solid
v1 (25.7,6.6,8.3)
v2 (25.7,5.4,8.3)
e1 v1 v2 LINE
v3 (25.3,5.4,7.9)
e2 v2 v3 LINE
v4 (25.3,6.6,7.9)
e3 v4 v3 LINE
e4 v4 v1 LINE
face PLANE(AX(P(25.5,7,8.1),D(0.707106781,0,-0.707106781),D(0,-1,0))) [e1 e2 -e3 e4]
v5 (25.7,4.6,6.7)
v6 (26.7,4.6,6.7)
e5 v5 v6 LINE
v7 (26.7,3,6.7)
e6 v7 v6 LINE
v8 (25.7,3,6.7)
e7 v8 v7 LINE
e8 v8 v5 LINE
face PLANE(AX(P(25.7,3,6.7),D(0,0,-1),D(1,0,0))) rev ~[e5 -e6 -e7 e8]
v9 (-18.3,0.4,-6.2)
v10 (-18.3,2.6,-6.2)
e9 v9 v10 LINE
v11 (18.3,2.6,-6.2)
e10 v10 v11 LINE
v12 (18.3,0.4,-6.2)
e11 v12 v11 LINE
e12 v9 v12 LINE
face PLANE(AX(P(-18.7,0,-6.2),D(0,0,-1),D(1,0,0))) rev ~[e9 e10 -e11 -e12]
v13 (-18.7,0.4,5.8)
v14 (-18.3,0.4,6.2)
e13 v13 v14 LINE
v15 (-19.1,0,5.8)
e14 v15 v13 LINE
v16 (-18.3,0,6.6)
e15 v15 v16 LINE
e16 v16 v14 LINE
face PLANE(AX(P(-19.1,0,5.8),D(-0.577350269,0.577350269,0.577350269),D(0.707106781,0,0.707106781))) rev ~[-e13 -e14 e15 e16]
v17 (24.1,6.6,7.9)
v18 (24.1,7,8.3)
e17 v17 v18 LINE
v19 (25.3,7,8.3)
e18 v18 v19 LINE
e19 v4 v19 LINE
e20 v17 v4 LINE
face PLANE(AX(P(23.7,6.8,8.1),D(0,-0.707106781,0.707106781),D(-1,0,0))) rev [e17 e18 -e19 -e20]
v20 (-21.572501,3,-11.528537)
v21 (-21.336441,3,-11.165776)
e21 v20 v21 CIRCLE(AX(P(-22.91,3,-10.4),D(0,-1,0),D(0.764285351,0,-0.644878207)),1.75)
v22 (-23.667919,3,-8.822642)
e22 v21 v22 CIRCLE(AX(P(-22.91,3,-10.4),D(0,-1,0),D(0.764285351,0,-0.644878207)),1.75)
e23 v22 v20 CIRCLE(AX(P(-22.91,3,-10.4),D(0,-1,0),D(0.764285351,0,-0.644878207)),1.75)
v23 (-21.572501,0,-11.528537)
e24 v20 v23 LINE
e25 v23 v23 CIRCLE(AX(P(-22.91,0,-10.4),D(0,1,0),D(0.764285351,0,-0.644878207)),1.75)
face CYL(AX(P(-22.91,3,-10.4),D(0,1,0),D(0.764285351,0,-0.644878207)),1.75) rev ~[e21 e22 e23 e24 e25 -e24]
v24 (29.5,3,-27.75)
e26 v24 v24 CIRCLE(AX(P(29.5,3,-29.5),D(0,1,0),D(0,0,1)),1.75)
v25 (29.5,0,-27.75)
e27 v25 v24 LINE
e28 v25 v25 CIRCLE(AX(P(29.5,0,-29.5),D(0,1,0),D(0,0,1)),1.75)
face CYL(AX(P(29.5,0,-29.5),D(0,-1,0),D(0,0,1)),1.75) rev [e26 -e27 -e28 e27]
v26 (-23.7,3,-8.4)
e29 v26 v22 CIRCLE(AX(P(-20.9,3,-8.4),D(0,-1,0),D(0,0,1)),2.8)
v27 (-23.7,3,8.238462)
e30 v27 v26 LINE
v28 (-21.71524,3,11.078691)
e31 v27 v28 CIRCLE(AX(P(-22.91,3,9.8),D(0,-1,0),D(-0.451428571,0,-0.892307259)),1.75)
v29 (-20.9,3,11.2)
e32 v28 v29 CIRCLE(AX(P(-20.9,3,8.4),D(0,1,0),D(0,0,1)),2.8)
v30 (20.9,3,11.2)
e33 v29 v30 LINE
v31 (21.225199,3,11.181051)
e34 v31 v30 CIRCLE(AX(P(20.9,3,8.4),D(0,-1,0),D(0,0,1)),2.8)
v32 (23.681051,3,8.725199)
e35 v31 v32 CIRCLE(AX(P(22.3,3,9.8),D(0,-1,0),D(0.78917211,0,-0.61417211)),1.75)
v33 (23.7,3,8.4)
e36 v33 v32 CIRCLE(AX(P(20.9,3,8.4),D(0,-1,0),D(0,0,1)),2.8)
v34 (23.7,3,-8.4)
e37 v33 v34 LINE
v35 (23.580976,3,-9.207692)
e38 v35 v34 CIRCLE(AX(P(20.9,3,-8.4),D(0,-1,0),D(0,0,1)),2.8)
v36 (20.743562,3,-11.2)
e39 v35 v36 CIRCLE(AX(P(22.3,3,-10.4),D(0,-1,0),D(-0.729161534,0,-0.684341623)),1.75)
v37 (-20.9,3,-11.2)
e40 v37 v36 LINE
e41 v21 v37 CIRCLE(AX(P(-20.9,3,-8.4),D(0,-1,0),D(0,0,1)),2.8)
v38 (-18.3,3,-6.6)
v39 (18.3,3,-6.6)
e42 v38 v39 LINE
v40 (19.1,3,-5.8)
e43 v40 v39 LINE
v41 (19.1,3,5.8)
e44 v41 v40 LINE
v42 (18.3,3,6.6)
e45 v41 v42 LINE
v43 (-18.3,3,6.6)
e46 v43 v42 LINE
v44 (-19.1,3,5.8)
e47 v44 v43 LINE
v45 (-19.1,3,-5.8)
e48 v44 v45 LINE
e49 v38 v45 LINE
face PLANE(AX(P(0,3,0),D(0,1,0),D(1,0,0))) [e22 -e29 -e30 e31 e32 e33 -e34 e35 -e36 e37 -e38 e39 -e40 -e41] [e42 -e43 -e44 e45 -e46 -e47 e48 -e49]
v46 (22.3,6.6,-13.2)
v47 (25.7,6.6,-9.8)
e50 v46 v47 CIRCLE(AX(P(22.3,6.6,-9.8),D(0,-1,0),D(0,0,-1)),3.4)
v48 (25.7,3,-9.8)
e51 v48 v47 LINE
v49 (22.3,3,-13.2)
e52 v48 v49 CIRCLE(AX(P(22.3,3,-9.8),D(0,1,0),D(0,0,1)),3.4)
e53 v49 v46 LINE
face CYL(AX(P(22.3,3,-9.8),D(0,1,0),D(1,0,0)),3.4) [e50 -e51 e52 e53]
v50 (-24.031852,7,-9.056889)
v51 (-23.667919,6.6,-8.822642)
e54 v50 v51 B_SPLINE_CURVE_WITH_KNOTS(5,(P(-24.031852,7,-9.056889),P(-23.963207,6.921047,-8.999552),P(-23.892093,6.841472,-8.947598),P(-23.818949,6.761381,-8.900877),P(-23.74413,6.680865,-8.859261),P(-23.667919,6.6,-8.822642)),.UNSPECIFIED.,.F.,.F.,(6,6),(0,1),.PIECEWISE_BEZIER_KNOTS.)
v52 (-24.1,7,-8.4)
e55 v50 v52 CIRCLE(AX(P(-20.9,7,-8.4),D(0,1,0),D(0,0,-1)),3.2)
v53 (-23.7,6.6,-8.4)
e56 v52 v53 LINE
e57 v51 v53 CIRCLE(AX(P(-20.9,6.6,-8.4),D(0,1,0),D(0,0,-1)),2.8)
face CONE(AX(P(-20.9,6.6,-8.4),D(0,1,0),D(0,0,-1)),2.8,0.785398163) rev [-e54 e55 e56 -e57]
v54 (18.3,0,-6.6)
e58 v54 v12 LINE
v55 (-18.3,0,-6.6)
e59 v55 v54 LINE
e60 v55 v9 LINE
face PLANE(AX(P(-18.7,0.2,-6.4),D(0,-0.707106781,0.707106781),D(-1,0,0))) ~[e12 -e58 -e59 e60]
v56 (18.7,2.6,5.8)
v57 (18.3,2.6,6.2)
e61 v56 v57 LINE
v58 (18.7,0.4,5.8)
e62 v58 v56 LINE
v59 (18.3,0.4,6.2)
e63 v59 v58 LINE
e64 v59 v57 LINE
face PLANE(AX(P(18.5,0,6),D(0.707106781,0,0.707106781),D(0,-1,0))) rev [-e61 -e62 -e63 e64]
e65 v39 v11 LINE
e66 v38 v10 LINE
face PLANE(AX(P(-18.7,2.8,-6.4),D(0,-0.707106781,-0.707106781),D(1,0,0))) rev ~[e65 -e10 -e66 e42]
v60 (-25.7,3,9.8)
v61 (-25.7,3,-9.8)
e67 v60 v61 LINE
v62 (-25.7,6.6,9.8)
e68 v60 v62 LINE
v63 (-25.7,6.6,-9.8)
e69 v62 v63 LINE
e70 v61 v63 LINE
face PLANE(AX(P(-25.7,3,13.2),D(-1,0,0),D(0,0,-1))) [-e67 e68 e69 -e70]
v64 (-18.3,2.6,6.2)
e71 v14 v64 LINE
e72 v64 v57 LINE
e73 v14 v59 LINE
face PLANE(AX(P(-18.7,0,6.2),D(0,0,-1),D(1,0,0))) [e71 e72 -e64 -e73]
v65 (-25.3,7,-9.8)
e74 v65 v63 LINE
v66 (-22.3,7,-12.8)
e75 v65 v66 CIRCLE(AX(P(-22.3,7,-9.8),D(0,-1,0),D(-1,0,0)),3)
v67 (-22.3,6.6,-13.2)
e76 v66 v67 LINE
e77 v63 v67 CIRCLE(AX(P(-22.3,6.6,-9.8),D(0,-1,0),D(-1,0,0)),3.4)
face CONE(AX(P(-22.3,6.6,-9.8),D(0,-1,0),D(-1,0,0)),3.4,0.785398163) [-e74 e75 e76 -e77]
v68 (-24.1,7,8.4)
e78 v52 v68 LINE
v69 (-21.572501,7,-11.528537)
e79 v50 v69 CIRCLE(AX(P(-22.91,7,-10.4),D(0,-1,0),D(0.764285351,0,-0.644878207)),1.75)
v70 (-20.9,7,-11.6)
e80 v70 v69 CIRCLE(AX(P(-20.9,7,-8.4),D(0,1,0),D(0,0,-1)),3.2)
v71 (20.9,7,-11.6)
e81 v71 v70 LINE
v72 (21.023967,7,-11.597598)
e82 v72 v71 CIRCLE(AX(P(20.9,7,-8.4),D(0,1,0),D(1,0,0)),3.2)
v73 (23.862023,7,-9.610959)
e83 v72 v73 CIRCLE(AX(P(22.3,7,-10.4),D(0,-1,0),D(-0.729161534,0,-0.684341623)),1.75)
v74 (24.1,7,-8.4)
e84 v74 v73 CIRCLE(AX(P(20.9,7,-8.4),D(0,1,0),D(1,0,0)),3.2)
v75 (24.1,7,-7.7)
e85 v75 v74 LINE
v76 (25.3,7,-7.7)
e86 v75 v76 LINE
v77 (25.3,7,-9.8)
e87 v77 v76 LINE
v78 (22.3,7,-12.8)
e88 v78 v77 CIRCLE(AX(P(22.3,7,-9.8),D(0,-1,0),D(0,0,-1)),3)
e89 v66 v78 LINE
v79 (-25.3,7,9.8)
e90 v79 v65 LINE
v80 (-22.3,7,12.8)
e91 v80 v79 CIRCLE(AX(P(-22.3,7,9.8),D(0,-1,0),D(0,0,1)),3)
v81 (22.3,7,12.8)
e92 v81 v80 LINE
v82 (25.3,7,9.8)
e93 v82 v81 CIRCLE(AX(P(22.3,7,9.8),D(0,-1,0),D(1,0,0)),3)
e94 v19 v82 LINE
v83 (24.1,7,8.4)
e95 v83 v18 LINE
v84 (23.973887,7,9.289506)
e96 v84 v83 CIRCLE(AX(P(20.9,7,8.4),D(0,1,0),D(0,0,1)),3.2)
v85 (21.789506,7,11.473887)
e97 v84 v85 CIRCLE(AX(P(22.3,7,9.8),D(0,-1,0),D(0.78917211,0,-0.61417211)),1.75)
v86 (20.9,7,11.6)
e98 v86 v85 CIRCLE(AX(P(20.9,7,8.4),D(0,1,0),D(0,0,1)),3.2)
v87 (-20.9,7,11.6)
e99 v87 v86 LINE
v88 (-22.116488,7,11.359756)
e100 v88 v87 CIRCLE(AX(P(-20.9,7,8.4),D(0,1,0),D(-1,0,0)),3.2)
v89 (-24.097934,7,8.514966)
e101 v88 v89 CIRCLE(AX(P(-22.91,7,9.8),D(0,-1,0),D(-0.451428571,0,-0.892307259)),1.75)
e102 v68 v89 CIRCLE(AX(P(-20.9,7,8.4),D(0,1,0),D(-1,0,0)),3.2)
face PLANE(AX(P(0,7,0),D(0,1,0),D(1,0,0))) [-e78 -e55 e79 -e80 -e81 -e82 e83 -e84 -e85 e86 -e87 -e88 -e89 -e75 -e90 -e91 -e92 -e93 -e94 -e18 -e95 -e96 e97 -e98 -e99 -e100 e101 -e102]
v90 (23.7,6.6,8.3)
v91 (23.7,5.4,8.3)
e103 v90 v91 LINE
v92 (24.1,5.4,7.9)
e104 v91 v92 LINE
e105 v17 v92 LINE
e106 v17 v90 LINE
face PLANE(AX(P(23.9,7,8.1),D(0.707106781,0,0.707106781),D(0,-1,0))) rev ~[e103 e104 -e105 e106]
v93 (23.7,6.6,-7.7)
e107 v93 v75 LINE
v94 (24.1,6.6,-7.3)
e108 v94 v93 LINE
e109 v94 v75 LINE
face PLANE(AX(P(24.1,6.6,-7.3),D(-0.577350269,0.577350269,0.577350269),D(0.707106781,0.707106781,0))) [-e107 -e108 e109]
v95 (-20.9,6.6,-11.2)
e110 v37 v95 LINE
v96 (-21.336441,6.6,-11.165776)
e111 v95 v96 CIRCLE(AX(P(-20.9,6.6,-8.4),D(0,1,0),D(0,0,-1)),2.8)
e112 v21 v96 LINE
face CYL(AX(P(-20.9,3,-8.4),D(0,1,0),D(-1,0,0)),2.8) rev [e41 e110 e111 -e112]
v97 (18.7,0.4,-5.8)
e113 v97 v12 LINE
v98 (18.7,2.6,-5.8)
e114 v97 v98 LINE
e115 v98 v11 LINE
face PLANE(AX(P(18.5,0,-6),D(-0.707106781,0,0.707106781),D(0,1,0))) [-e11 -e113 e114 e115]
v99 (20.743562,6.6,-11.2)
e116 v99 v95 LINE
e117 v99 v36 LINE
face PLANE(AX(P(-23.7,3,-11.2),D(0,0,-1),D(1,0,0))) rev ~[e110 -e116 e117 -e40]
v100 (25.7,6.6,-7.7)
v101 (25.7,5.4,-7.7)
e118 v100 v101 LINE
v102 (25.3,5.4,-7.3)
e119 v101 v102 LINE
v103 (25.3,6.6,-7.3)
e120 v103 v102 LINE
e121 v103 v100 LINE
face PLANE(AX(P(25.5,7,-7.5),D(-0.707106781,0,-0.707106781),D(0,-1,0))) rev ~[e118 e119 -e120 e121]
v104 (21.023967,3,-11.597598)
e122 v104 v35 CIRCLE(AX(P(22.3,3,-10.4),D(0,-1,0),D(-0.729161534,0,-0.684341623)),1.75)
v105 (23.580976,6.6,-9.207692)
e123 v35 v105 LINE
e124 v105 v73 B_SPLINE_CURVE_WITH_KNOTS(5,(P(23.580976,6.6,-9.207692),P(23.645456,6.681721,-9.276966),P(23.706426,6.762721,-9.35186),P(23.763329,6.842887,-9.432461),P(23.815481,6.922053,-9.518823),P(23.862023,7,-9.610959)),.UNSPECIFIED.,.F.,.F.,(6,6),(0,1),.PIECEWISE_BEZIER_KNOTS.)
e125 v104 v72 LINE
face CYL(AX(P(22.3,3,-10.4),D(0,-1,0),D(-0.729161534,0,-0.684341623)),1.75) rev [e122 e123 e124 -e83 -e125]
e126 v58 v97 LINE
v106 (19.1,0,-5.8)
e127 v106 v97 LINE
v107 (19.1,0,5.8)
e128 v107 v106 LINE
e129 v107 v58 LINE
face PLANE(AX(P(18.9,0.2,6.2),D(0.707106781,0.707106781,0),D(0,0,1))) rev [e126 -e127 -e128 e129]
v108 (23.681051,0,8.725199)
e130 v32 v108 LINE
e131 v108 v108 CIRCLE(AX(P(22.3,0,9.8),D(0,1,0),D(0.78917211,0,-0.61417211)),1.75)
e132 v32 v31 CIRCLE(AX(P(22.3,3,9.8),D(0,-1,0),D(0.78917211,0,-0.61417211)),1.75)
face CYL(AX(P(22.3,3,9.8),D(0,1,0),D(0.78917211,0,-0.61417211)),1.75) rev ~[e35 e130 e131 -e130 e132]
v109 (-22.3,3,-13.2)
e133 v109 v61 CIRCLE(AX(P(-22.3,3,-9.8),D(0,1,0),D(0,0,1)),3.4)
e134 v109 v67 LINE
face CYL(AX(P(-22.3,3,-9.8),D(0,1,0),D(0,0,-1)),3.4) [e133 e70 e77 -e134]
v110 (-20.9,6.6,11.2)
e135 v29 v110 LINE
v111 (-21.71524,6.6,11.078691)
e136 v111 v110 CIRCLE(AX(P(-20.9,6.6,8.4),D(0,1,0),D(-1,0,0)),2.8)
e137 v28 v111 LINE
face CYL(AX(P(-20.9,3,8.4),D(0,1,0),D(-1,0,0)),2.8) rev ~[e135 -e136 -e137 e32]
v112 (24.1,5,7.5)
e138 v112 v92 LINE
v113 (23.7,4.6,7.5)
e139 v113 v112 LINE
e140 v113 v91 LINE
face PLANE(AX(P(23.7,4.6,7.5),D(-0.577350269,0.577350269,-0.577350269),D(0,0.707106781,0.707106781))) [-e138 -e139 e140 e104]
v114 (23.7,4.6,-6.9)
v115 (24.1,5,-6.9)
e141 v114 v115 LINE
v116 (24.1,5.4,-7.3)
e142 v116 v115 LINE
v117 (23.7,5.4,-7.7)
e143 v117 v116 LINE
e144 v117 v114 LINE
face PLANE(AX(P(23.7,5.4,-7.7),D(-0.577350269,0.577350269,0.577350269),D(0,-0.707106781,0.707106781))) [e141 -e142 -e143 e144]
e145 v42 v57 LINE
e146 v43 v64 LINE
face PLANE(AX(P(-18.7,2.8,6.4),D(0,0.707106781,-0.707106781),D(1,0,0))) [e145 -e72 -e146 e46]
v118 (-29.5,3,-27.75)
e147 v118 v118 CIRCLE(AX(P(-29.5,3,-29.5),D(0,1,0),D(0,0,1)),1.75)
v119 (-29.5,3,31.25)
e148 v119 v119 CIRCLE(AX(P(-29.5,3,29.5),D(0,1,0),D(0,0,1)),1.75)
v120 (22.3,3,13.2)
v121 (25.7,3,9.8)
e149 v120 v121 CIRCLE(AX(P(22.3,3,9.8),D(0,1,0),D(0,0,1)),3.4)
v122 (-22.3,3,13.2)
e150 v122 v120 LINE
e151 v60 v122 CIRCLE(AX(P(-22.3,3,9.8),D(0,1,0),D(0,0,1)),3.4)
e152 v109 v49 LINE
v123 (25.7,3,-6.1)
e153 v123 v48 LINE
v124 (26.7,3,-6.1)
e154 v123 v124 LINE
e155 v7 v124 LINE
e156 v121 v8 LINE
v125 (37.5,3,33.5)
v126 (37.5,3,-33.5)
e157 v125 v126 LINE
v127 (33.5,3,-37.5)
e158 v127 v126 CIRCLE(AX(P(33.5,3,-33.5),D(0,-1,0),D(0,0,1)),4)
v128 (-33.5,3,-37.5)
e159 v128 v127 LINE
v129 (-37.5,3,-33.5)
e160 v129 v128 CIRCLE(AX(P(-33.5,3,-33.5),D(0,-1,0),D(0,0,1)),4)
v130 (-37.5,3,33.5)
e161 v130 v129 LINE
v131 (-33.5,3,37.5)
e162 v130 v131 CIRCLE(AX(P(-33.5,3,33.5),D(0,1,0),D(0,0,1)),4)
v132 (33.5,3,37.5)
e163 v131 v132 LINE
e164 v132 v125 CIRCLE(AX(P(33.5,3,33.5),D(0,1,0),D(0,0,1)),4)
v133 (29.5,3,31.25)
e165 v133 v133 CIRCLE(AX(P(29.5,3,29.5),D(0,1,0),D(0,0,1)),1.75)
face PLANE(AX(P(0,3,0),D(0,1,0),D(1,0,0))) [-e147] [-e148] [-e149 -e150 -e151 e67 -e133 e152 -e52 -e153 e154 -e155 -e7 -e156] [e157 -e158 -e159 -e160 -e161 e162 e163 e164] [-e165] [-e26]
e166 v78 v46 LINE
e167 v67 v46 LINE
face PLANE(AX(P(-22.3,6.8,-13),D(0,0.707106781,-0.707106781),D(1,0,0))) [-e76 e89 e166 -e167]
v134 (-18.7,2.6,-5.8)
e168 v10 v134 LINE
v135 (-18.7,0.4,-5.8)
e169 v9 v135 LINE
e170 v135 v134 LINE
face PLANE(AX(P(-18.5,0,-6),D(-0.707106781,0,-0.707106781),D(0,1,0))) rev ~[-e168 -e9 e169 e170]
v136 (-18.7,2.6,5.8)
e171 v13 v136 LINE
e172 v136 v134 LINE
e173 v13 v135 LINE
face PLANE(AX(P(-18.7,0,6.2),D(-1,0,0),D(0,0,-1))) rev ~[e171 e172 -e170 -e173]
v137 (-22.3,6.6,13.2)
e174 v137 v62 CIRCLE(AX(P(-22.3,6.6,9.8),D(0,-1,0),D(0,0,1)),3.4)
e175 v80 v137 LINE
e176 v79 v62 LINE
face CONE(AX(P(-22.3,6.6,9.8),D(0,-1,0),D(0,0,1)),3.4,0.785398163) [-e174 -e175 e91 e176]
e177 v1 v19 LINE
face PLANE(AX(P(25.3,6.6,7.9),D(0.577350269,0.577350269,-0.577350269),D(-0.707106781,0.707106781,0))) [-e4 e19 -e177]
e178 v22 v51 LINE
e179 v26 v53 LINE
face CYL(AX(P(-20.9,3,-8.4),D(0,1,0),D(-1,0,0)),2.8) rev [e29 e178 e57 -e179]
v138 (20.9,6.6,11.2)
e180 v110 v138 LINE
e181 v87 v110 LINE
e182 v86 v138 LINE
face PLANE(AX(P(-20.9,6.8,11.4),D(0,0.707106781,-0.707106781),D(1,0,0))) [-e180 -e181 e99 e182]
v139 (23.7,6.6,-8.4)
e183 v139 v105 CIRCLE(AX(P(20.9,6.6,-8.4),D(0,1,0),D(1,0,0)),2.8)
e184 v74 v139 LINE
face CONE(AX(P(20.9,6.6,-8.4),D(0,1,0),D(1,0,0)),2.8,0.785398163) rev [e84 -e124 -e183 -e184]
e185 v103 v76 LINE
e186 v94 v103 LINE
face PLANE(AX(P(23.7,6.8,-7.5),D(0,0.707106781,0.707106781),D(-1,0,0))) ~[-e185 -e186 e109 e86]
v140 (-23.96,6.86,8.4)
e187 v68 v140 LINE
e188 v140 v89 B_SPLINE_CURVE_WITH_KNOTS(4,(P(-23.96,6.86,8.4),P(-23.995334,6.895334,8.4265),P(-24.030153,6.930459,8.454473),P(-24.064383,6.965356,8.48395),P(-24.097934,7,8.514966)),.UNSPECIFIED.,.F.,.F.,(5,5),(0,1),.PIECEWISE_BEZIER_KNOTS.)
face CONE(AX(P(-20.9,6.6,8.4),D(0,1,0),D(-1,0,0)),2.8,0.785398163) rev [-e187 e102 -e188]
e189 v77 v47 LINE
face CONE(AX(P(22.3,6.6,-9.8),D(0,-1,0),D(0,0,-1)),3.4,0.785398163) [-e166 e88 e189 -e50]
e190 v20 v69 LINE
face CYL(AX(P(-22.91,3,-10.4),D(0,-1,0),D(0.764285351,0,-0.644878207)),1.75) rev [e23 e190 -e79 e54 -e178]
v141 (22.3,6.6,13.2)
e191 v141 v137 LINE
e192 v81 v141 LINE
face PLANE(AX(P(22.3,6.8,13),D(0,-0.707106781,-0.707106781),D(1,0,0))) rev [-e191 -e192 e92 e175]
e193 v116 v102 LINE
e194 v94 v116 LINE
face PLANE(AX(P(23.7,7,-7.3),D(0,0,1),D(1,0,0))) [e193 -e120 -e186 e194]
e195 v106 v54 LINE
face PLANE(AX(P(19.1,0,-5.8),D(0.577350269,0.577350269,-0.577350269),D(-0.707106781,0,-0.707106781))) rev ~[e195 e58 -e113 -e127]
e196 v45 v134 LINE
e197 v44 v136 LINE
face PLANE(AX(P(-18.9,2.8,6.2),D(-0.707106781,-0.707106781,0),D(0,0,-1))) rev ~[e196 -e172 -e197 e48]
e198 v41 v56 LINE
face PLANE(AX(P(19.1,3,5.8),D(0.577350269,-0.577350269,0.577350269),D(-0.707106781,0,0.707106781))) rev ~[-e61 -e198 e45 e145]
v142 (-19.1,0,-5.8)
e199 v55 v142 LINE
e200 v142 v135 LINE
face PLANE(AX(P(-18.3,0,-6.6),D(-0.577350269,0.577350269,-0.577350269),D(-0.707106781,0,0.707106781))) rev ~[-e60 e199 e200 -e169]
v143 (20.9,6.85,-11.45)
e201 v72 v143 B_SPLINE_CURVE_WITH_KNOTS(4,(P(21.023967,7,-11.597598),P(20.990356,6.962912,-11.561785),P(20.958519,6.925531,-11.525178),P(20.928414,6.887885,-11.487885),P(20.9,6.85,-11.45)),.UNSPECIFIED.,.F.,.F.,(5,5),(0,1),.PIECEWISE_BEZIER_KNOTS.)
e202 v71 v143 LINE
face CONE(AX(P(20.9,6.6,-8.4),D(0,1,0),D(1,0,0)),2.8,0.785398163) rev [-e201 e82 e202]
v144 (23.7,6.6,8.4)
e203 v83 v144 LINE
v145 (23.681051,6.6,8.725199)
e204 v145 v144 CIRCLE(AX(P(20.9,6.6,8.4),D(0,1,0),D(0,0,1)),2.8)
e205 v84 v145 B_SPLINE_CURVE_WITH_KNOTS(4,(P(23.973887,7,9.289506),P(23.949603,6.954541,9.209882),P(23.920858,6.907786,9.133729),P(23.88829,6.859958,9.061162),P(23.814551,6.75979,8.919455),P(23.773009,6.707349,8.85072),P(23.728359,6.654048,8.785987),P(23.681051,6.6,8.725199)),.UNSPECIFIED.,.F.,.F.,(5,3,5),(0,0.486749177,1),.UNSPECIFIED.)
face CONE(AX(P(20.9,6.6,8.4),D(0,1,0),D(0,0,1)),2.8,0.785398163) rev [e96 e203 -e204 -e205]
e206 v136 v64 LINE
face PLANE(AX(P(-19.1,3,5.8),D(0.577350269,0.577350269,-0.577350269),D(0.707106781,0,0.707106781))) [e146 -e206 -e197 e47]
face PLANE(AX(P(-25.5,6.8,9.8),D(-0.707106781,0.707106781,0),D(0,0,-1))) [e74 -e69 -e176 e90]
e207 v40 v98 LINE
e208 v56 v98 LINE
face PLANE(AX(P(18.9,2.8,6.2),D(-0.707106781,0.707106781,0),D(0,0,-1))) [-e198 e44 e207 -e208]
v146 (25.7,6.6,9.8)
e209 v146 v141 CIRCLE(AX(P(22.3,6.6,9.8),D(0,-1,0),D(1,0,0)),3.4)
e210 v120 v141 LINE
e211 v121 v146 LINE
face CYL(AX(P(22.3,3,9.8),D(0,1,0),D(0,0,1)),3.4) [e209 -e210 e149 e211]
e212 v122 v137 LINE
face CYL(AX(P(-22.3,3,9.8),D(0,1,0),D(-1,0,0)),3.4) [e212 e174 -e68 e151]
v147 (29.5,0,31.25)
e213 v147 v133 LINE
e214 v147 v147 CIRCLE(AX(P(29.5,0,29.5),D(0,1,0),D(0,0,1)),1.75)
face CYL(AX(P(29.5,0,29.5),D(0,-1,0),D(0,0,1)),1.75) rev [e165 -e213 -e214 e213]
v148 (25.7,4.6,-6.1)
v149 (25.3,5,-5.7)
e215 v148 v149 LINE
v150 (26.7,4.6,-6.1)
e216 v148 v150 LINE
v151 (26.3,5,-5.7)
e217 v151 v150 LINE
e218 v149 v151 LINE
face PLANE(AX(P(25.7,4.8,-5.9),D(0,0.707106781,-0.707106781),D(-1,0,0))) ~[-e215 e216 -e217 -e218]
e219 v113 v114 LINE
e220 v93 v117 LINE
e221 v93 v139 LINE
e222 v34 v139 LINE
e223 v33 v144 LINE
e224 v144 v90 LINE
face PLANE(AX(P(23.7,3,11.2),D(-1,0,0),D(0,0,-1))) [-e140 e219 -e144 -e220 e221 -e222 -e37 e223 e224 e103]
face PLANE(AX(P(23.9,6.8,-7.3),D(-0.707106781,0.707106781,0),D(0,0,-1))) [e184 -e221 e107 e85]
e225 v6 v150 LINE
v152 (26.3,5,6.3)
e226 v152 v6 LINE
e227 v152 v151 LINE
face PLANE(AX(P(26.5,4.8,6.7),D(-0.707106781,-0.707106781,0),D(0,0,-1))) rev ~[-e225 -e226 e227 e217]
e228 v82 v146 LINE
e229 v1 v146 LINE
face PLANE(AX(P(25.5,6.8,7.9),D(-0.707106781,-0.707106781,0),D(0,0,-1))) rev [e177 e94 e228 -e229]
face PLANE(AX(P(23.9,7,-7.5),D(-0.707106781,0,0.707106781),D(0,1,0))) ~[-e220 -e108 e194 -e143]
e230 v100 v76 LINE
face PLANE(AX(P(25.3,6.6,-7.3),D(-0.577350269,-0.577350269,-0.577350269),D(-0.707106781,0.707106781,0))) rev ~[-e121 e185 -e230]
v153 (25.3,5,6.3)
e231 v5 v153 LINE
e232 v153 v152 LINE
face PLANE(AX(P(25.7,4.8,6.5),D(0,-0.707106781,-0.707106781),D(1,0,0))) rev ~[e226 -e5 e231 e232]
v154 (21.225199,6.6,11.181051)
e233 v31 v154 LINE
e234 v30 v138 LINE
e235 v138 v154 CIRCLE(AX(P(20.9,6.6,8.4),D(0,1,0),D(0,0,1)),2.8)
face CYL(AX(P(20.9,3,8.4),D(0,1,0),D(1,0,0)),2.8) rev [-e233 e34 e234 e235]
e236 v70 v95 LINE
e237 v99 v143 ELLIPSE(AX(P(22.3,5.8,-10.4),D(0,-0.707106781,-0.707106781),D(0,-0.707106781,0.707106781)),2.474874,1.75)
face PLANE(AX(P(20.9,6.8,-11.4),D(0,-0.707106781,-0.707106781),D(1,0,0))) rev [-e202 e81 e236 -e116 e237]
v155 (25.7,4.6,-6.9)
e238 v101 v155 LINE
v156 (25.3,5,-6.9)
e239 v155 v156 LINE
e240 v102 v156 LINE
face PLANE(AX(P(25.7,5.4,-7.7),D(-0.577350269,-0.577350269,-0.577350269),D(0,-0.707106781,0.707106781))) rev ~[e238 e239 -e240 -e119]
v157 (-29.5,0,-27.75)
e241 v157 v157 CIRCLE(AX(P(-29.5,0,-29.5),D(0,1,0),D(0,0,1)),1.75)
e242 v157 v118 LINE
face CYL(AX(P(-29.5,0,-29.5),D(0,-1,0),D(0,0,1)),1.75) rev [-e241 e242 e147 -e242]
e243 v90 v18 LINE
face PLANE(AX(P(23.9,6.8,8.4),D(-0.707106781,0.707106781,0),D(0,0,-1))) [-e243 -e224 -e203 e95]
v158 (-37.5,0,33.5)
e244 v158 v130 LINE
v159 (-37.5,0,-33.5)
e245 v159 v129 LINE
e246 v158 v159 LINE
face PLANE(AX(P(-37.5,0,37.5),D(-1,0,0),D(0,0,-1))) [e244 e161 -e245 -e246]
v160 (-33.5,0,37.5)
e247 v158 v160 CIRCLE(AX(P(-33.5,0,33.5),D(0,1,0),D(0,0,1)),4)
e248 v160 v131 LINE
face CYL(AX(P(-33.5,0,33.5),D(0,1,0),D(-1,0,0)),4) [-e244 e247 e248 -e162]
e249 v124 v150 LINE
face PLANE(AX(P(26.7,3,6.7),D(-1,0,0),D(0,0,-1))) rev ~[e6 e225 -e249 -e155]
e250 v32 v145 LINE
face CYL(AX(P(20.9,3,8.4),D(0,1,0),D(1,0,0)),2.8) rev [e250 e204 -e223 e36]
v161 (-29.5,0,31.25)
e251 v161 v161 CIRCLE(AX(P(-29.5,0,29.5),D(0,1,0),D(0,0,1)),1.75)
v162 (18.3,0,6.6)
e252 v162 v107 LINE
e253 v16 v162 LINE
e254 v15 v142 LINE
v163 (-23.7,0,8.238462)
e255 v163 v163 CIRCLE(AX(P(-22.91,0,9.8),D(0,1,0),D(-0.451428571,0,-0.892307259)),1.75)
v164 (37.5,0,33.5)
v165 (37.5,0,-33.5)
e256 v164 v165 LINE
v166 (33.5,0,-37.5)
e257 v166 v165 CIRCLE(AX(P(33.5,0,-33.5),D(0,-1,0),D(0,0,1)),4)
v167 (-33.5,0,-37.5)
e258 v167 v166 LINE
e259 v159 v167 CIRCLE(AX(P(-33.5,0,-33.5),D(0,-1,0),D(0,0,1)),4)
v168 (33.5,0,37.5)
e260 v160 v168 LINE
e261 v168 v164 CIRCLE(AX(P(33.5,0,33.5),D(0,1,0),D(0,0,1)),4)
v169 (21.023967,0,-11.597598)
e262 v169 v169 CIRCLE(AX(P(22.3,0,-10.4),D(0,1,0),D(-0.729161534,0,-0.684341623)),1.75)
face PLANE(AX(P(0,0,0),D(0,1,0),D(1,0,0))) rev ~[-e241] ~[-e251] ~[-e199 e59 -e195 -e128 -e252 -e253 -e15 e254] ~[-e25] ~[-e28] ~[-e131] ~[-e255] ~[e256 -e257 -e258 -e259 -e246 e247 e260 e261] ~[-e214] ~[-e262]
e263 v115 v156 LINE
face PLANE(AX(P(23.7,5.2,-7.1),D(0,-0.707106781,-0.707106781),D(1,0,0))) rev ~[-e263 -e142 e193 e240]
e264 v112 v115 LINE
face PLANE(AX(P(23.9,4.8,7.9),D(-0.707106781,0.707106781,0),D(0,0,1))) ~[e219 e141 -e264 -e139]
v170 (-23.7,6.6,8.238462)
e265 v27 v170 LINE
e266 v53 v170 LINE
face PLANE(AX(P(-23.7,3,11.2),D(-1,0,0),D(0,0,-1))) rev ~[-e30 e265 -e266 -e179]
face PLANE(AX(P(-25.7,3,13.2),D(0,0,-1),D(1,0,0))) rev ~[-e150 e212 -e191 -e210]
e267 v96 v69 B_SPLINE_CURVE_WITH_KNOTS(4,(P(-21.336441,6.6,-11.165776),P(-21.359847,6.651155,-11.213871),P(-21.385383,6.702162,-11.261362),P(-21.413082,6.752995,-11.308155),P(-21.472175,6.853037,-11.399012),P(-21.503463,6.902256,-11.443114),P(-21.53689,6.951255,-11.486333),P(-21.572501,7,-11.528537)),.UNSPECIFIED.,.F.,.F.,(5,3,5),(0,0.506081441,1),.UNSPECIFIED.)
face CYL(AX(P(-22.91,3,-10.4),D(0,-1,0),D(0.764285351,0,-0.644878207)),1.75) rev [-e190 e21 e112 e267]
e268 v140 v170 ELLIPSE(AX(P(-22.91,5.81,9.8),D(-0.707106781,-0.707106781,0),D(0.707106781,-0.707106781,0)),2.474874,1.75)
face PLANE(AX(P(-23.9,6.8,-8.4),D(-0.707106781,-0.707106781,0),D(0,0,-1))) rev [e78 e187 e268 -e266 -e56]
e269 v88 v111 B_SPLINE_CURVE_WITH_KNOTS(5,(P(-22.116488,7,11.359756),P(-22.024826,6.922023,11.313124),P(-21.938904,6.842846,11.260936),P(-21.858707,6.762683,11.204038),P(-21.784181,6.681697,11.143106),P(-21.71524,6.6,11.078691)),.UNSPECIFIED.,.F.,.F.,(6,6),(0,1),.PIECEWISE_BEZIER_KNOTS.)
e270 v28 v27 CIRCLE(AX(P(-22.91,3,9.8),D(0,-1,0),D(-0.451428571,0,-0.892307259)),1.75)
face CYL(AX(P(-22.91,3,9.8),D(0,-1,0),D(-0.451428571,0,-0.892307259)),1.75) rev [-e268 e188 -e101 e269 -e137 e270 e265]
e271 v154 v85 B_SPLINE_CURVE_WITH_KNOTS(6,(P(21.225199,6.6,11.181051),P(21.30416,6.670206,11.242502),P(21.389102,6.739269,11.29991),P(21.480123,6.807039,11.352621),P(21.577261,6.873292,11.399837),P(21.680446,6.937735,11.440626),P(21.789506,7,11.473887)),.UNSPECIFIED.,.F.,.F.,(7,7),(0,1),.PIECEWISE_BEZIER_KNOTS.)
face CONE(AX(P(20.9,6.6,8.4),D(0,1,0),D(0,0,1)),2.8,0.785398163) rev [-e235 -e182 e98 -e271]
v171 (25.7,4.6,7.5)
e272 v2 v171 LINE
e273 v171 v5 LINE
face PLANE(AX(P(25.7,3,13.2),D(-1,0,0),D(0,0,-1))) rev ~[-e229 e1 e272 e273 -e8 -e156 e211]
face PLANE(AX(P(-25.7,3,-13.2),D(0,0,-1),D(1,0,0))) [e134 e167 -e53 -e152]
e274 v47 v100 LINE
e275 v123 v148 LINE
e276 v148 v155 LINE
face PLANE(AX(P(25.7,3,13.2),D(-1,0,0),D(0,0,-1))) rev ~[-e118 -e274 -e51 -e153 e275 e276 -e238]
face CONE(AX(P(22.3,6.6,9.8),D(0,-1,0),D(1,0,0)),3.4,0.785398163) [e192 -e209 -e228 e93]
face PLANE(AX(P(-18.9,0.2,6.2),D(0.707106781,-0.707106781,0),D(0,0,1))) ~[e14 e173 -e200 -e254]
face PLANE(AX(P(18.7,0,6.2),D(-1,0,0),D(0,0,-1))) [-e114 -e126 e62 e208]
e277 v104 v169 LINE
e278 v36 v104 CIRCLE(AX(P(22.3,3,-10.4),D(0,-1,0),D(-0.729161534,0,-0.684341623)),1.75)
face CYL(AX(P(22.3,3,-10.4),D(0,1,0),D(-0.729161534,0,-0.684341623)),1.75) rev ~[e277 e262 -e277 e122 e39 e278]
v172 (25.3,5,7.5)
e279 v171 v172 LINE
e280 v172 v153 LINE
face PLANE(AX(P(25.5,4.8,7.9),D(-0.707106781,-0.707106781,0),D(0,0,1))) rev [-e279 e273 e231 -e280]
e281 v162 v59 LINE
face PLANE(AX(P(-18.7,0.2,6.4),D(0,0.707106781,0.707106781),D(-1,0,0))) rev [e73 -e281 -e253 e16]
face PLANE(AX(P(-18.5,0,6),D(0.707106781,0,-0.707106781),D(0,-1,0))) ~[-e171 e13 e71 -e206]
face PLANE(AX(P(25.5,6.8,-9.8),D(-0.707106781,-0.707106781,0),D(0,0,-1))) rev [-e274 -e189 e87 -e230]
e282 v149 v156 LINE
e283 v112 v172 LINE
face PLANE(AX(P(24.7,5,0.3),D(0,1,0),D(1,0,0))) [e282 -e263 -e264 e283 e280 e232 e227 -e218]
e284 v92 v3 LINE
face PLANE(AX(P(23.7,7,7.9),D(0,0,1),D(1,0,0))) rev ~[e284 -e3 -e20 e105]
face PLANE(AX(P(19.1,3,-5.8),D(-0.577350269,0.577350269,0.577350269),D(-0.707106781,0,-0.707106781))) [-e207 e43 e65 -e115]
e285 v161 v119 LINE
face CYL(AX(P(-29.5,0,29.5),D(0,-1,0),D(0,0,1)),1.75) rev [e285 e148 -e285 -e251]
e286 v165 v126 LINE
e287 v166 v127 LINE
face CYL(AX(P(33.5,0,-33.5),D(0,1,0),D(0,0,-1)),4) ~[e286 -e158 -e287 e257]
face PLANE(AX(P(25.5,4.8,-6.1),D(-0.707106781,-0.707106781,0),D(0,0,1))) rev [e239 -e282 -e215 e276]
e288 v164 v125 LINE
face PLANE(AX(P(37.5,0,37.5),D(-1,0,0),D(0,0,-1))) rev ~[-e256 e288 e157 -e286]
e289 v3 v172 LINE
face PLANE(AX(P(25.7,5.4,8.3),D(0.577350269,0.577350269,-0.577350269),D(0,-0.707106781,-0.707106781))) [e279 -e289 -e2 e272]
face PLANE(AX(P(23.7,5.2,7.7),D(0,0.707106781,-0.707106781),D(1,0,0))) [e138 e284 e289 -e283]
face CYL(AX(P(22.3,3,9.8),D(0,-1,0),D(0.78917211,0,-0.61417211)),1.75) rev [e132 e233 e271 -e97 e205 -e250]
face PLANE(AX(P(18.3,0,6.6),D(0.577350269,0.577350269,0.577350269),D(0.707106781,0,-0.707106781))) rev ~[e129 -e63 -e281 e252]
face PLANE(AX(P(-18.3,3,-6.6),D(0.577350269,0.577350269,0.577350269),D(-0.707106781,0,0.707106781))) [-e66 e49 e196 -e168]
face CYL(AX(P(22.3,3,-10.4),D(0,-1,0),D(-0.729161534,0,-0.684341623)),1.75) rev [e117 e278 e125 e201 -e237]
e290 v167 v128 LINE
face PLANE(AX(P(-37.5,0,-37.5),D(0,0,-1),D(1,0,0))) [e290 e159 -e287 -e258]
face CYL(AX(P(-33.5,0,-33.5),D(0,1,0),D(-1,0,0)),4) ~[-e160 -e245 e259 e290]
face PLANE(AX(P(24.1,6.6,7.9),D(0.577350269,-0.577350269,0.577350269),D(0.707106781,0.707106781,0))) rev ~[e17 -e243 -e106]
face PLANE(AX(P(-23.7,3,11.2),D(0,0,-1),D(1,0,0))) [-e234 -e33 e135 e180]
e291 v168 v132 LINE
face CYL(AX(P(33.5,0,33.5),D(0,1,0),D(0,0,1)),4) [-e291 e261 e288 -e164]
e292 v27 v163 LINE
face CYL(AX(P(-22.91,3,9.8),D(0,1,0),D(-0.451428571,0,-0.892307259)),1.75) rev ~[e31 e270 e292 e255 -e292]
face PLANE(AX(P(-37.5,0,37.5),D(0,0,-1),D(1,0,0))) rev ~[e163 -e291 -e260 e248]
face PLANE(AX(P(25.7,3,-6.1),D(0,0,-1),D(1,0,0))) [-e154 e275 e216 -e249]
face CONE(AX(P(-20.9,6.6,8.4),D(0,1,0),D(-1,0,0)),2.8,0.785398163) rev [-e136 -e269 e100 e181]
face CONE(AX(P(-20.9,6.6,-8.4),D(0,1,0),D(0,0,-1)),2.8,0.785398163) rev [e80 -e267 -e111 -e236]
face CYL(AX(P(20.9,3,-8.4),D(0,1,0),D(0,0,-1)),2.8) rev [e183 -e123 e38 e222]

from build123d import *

# Parameters (mm, degrees)
SKETCH_1_W                      = 75
SKETCH_1_H                      = 75
SKETCH_1_R                      = 1.75
SKETCH_1_W_2                    = 37.4
SKETCH_1_H_2                    = 12.4
EXTRUDE_1_DEPTH                 = 3
SKETCH_2_W                      = 51.4
SKETCH_2_H                      = 26.4
SKETCH_2_W_2                    = 47.4
SKETCH_2_H_2                    = 22.4
EXTRUDE_2_DEPTH                 = 4
SKETCH_3_W                      = 2
SKETCH_3_H                      = 15.2
CUT_EXTRUDE_1_DEPTH             = 2
SKETCH_4_W                      = 1
SKETCH_4_H                      = 12.8
EXTRUDE_3_DEPTH                 = 2
FILLET_1_R                      = 2.8
FILLET_2_R                      = 3.4
CHAMFER_1_SIZE                  = 0.4
CUT_EXTRUDE_2_REACH             = 55.184
SKETCH_5_R                      = 1.75
CUT_EXTRUDE_2_DIRECTION_2_DEPTH = 54.183644102
FILLET_3_R                      = 4


with BuildPart() as part:
    # 草图1 → 凸台-拉伸1 (new body)
    with BuildSketch(Plane(origin=(0, 0, 0), x_dir=(1, 0, 0), z_dir=(0, 1, 0))):
        Rectangle(SKETCH_1_W, SKETCH_1_H)
        with Locations(Location((-29.5, 29.5, 0), (0, 0, 270))):
            Circle(SKETCH_1_R, mode=Mode.SUBTRACT)
        with Locations(Location((29.5, 29.5, 0), (0, 0, 270))):
            Circle(SKETCH_1_R, mode=Mode.SUBTRACT)
        with Locations(Location((29.5, -29.5, 0), (0, 0, 270))):
            Circle(SKETCH_1_R, mode=Mode.SUBTRACT)
        with Locations(Location((-29.5, -29.5, 0), (0, 0, 270))):
            Circle(SKETCH_1_R, mode=Mode.SUBTRACT)
        Rectangle(SKETCH_1_W_2, SKETCH_1_H_2, mode=Mode.SUBTRACT)
    extrude(amount=EXTRUDE_1_DEPTH)

    # 草图2 → 凸台-拉伸2 (add)
    with BuildSketch(Plane(origin=(0, 3, 0), x_dir=(1, 0, 0), z_dir=(0, 1, 0))):
        Rectangle(SKETCH_2_W, SKETCH_2_H)
        Rectangle(SKETCH_2_W_2, SKETCH_2_H_2, mode=Mode.SUBTRACT)
    extrude(amount=EXTRUDE_2_DEPTH)

    # 草图3 → 切除-拉伸1 (cut)
    with BuildSketch(Plane(origin=(0, 7, 0), x_dir=(1, 0, 0), z_dir=(0, 1, 0))):
        with Locations((24.7, -0.3)):
            Rectangle(SKETCH_3_W, SKETCH_3_H)
    extrude(amount=-CUT_EXTRUDE_1_DEPTH, mode=Mode.SUBTRACT)

    # 草图4 → 凸台-拉伸3 (add)
    with BuildSketch(Plane(origin=(0, 3, 0), x_dir=(1, 0, 0), z_dir=(0, 1, 0))):
        with Locations((26.2, -0.3)):
            Rectangle(SKETCH_4_W, SKETCH_4_H)
    extrude(amount=EXTRUDE_3_DEPTH)

    # 圆角1
    fillet_1_edges = [part.edges().sort_by_distance(p)[0] for p in [
        (23.7, 5, -11.2),
        (-23.7, 5, -11.2),
        (-23.7, 5, 11.2),
        (23.7, 5, 11.2),
    ]]
    fillet(fillet_1_edges, radius=FILLET_1_R)

    # 圆角2
    fillet_2_edges = [part.edges().sort_by_distance(p)[0] for p in [
        (25.7, 5, 13.2),
        (25.7, 5, -13.2),
        (-25.7, 5, -13.2),
        (-25.7, 5, 13.2),
    ]]
    fillet(fillet_2_edges, radius=FILLET_2_R)

    # 倒角1
    chamfer_1_edges = [part.edges().sort_by_distance(p)[0] for p in [
        (0, 7, 11.2),
        (23.7, 7, 8.15),
        (-23.7, 7, 0),
        (0, 7, -11.2),
        (22.879898987, 7, 10.379898987),
        (-22.879898987, 7, 10.379898987),
        (22.879898987, 7, -10.379898987),
        (-22.879898987, 7, -10.379898987),
        (0, 7, -13.2),
        (-25.7, 7, 0),
        (0, 7, 13.2),
        (25.7, 7, 8.85),
        (-24.704163056, 7, -12.204163056),
        (-24.704163056, 7, 12.204163056),
        (24.704163056, 7, 12.204163056),
        (24.704163056, 7, -12.204163056),
        (18.7, 0, 0),
        (18.7, 1.5, 6.2),
        (0, 0, -6.2),
        (18.7, 1.5, -6.2),
        (-18.7, 0, 0),
        (-18.7, 1.5, -6.2),
        (0, 0, 6.2),
        (-18.7, 1.5, 6.2),
        (18.7, 3, 0),
        (0, 3, -6.2),
        (-18.7, 3, 0),
        (0, 3, 6.2),
        (23.7, 7, -7.85),
        (25.7, 7, -8.55),
        (23.7, 5, 0.3),
        (23.7, 6, 7.9),
        (24.7, 5, -7.3),
        (23.7, 6, -7.3),
        (25.7, 5, 7.3),
        (25.7, 6, -7.3),
        (24.7, 5, 7.9),
        (25.7, 6, 7.9),
        (24.7, 7, 7.9),
        (24.7, 7, -7.3),
        (25.7, 5, -6.7),
        (26.2, 5, 6.7),
        (26.7, 5, 0.3),
        (26.2, 5, -6.1),
    ]]
    chamfer(chamfer_1_edges, length=CHAMFER_1_SIZE)

    # 草图5 → 切除-拉伸2 (cut, up to next)
    with BuildSketch(Plane(origin=(0, 3, 0), x_dir=(1, 0, 0), z_dir=(0, 1, 0)), mode=Mode.PRIVATE) as cut_extrude_2_sk1:
        with Locations(Location((-22.91, 10.4, 0), (0, 0, 40.156544446))):
            Circle(SKETCH_5_R)
    cut_extrude_2_tool1 = extrude(cut_extrude_2_sk1.sketch, amount=-CUT_EXTRUDE_2_REACH, mode=Mode.PRIVATE) & part.part
    # 草图5 → 切除-拉伸2 (cut, up to next)
    with BuildSketch(Plane(origin=(0, 3, 0), x_dir=(1, 0, 0), z_dir=(0, 1, 0)), mode=Mode.PRIVATE) as cut_extrude_2_sk2:
        with Locations(Location((22.3, 10.4, 0), (0, 0, 136.81614849))):
            Circle(SKETCH_5_R)
    cut_extrude_2_tool2 = extrude(cut_extrude_2_sk2.sketch, amount=-CUT_EXTRUDE_2_REACH, mode=Mode.PRIVATE) & part.part
    # 草图5 → 切除-拉伸2 (cut, up to next)
    with BuildSketch(Plane(origin=(0, 3, 0), x_dir=(1, 0, 0), z_dir=(0, 1, 0)), mode=Mode.PRIVATE) as cut_extrude_2_sk3:
        with Locations(Location((22.3, -9.8, 0), (0, 0, 37.891788933))):
            Circle(SKETCH_5_R)
    cut_extrude_2_tool3 = extrude(cut_extrude_2_sk3.sketch, amount=-CUT_EXTRUDE_2_REACH, mode=Mode.PRIVATE) & part.part
    # 草图5 → 切除-拉伸2 (cut, up to next)
    with BuildSketch(Plane(origin=(0, 3, 0), x_dir=(1, 0, 0), z_dir=(0, 1, 0)), mode=Mode.PRIVATE) as cut_extrude_2_sk4:
        with Locations(Location((-22.91, -9.8, 0), (0, 0, 116.835376612))):
            Circle(SKETCH_5_R)
    cut_extrude_2_tool4 = extrude(cut_extrude_2_sk4.sketch, amount=-CUT_EXTRUDE_2_REACH, mode=Mode.PRIVATE) & part.part
    add(cut_extrude_2_tool1.solids().sort_by_distance((-22.91, 3, -10.4))[0], mode=Mode.SUBTRACT)
    add(cut_extrude_2_tool2.solids().sort_by_distance((22.3, 3, -10.4))[0], mode=Mode.SUBTRACT)
    add(cut_extrude_2_tool3.solids().sort_by_distance((22.3, 3, 9.8))[0], mode=Mode.SUBTRACT)
    add(cut_extrude_2_tool4.solids().sort_by_distance((-22.91, 3, 9.8))[0], mode=Mode.SUBTRACT)

    # 草图5 → 切除-拉伸2 direction 2 (cut)
    with BuildSketch(Plane(origin=(0, 3, 0), x_dir=(1, 0, 0), z_dir=(0, 1, 0))):
        with Locations(Location((-22.91, 10.4, 0), (0, 0, 40.156544446))):
            Circle(SKETCH_5_R)
        with Locations(Location((22.3, 10.4, 0), (0, 0, 136.81614849))):
            Circle(SKETCH_5_R)
        with Locations(Location((22.3, -9.8, 0), (0, 0, 37.891788933))):
            Circle(SKETCH_5_R)
        with Locations(Location((-22.91, -9.8, 0), (0, 0, 116.835376612))):
            Circle(SKETCH_5_R)
    extrude(amount=CUT_EXTRUDE_2_DIRECTION_2_DEPTH, mode=Mode.SUBTRACT)

    # 圆角3
    fillet_3_edges = [part.edges().sort_by_distance(p)[0] for p in [
        (37.5, 1.5, 37.5),
        (-37.5, 1.5, 37.5),
        (-37.5, 1.5, -37.5),
        (37.5, 1.5, -37.5),
    ]]
    fillet(fillet_3_edges, radius=FILLET_3_R)


solid = part.part
